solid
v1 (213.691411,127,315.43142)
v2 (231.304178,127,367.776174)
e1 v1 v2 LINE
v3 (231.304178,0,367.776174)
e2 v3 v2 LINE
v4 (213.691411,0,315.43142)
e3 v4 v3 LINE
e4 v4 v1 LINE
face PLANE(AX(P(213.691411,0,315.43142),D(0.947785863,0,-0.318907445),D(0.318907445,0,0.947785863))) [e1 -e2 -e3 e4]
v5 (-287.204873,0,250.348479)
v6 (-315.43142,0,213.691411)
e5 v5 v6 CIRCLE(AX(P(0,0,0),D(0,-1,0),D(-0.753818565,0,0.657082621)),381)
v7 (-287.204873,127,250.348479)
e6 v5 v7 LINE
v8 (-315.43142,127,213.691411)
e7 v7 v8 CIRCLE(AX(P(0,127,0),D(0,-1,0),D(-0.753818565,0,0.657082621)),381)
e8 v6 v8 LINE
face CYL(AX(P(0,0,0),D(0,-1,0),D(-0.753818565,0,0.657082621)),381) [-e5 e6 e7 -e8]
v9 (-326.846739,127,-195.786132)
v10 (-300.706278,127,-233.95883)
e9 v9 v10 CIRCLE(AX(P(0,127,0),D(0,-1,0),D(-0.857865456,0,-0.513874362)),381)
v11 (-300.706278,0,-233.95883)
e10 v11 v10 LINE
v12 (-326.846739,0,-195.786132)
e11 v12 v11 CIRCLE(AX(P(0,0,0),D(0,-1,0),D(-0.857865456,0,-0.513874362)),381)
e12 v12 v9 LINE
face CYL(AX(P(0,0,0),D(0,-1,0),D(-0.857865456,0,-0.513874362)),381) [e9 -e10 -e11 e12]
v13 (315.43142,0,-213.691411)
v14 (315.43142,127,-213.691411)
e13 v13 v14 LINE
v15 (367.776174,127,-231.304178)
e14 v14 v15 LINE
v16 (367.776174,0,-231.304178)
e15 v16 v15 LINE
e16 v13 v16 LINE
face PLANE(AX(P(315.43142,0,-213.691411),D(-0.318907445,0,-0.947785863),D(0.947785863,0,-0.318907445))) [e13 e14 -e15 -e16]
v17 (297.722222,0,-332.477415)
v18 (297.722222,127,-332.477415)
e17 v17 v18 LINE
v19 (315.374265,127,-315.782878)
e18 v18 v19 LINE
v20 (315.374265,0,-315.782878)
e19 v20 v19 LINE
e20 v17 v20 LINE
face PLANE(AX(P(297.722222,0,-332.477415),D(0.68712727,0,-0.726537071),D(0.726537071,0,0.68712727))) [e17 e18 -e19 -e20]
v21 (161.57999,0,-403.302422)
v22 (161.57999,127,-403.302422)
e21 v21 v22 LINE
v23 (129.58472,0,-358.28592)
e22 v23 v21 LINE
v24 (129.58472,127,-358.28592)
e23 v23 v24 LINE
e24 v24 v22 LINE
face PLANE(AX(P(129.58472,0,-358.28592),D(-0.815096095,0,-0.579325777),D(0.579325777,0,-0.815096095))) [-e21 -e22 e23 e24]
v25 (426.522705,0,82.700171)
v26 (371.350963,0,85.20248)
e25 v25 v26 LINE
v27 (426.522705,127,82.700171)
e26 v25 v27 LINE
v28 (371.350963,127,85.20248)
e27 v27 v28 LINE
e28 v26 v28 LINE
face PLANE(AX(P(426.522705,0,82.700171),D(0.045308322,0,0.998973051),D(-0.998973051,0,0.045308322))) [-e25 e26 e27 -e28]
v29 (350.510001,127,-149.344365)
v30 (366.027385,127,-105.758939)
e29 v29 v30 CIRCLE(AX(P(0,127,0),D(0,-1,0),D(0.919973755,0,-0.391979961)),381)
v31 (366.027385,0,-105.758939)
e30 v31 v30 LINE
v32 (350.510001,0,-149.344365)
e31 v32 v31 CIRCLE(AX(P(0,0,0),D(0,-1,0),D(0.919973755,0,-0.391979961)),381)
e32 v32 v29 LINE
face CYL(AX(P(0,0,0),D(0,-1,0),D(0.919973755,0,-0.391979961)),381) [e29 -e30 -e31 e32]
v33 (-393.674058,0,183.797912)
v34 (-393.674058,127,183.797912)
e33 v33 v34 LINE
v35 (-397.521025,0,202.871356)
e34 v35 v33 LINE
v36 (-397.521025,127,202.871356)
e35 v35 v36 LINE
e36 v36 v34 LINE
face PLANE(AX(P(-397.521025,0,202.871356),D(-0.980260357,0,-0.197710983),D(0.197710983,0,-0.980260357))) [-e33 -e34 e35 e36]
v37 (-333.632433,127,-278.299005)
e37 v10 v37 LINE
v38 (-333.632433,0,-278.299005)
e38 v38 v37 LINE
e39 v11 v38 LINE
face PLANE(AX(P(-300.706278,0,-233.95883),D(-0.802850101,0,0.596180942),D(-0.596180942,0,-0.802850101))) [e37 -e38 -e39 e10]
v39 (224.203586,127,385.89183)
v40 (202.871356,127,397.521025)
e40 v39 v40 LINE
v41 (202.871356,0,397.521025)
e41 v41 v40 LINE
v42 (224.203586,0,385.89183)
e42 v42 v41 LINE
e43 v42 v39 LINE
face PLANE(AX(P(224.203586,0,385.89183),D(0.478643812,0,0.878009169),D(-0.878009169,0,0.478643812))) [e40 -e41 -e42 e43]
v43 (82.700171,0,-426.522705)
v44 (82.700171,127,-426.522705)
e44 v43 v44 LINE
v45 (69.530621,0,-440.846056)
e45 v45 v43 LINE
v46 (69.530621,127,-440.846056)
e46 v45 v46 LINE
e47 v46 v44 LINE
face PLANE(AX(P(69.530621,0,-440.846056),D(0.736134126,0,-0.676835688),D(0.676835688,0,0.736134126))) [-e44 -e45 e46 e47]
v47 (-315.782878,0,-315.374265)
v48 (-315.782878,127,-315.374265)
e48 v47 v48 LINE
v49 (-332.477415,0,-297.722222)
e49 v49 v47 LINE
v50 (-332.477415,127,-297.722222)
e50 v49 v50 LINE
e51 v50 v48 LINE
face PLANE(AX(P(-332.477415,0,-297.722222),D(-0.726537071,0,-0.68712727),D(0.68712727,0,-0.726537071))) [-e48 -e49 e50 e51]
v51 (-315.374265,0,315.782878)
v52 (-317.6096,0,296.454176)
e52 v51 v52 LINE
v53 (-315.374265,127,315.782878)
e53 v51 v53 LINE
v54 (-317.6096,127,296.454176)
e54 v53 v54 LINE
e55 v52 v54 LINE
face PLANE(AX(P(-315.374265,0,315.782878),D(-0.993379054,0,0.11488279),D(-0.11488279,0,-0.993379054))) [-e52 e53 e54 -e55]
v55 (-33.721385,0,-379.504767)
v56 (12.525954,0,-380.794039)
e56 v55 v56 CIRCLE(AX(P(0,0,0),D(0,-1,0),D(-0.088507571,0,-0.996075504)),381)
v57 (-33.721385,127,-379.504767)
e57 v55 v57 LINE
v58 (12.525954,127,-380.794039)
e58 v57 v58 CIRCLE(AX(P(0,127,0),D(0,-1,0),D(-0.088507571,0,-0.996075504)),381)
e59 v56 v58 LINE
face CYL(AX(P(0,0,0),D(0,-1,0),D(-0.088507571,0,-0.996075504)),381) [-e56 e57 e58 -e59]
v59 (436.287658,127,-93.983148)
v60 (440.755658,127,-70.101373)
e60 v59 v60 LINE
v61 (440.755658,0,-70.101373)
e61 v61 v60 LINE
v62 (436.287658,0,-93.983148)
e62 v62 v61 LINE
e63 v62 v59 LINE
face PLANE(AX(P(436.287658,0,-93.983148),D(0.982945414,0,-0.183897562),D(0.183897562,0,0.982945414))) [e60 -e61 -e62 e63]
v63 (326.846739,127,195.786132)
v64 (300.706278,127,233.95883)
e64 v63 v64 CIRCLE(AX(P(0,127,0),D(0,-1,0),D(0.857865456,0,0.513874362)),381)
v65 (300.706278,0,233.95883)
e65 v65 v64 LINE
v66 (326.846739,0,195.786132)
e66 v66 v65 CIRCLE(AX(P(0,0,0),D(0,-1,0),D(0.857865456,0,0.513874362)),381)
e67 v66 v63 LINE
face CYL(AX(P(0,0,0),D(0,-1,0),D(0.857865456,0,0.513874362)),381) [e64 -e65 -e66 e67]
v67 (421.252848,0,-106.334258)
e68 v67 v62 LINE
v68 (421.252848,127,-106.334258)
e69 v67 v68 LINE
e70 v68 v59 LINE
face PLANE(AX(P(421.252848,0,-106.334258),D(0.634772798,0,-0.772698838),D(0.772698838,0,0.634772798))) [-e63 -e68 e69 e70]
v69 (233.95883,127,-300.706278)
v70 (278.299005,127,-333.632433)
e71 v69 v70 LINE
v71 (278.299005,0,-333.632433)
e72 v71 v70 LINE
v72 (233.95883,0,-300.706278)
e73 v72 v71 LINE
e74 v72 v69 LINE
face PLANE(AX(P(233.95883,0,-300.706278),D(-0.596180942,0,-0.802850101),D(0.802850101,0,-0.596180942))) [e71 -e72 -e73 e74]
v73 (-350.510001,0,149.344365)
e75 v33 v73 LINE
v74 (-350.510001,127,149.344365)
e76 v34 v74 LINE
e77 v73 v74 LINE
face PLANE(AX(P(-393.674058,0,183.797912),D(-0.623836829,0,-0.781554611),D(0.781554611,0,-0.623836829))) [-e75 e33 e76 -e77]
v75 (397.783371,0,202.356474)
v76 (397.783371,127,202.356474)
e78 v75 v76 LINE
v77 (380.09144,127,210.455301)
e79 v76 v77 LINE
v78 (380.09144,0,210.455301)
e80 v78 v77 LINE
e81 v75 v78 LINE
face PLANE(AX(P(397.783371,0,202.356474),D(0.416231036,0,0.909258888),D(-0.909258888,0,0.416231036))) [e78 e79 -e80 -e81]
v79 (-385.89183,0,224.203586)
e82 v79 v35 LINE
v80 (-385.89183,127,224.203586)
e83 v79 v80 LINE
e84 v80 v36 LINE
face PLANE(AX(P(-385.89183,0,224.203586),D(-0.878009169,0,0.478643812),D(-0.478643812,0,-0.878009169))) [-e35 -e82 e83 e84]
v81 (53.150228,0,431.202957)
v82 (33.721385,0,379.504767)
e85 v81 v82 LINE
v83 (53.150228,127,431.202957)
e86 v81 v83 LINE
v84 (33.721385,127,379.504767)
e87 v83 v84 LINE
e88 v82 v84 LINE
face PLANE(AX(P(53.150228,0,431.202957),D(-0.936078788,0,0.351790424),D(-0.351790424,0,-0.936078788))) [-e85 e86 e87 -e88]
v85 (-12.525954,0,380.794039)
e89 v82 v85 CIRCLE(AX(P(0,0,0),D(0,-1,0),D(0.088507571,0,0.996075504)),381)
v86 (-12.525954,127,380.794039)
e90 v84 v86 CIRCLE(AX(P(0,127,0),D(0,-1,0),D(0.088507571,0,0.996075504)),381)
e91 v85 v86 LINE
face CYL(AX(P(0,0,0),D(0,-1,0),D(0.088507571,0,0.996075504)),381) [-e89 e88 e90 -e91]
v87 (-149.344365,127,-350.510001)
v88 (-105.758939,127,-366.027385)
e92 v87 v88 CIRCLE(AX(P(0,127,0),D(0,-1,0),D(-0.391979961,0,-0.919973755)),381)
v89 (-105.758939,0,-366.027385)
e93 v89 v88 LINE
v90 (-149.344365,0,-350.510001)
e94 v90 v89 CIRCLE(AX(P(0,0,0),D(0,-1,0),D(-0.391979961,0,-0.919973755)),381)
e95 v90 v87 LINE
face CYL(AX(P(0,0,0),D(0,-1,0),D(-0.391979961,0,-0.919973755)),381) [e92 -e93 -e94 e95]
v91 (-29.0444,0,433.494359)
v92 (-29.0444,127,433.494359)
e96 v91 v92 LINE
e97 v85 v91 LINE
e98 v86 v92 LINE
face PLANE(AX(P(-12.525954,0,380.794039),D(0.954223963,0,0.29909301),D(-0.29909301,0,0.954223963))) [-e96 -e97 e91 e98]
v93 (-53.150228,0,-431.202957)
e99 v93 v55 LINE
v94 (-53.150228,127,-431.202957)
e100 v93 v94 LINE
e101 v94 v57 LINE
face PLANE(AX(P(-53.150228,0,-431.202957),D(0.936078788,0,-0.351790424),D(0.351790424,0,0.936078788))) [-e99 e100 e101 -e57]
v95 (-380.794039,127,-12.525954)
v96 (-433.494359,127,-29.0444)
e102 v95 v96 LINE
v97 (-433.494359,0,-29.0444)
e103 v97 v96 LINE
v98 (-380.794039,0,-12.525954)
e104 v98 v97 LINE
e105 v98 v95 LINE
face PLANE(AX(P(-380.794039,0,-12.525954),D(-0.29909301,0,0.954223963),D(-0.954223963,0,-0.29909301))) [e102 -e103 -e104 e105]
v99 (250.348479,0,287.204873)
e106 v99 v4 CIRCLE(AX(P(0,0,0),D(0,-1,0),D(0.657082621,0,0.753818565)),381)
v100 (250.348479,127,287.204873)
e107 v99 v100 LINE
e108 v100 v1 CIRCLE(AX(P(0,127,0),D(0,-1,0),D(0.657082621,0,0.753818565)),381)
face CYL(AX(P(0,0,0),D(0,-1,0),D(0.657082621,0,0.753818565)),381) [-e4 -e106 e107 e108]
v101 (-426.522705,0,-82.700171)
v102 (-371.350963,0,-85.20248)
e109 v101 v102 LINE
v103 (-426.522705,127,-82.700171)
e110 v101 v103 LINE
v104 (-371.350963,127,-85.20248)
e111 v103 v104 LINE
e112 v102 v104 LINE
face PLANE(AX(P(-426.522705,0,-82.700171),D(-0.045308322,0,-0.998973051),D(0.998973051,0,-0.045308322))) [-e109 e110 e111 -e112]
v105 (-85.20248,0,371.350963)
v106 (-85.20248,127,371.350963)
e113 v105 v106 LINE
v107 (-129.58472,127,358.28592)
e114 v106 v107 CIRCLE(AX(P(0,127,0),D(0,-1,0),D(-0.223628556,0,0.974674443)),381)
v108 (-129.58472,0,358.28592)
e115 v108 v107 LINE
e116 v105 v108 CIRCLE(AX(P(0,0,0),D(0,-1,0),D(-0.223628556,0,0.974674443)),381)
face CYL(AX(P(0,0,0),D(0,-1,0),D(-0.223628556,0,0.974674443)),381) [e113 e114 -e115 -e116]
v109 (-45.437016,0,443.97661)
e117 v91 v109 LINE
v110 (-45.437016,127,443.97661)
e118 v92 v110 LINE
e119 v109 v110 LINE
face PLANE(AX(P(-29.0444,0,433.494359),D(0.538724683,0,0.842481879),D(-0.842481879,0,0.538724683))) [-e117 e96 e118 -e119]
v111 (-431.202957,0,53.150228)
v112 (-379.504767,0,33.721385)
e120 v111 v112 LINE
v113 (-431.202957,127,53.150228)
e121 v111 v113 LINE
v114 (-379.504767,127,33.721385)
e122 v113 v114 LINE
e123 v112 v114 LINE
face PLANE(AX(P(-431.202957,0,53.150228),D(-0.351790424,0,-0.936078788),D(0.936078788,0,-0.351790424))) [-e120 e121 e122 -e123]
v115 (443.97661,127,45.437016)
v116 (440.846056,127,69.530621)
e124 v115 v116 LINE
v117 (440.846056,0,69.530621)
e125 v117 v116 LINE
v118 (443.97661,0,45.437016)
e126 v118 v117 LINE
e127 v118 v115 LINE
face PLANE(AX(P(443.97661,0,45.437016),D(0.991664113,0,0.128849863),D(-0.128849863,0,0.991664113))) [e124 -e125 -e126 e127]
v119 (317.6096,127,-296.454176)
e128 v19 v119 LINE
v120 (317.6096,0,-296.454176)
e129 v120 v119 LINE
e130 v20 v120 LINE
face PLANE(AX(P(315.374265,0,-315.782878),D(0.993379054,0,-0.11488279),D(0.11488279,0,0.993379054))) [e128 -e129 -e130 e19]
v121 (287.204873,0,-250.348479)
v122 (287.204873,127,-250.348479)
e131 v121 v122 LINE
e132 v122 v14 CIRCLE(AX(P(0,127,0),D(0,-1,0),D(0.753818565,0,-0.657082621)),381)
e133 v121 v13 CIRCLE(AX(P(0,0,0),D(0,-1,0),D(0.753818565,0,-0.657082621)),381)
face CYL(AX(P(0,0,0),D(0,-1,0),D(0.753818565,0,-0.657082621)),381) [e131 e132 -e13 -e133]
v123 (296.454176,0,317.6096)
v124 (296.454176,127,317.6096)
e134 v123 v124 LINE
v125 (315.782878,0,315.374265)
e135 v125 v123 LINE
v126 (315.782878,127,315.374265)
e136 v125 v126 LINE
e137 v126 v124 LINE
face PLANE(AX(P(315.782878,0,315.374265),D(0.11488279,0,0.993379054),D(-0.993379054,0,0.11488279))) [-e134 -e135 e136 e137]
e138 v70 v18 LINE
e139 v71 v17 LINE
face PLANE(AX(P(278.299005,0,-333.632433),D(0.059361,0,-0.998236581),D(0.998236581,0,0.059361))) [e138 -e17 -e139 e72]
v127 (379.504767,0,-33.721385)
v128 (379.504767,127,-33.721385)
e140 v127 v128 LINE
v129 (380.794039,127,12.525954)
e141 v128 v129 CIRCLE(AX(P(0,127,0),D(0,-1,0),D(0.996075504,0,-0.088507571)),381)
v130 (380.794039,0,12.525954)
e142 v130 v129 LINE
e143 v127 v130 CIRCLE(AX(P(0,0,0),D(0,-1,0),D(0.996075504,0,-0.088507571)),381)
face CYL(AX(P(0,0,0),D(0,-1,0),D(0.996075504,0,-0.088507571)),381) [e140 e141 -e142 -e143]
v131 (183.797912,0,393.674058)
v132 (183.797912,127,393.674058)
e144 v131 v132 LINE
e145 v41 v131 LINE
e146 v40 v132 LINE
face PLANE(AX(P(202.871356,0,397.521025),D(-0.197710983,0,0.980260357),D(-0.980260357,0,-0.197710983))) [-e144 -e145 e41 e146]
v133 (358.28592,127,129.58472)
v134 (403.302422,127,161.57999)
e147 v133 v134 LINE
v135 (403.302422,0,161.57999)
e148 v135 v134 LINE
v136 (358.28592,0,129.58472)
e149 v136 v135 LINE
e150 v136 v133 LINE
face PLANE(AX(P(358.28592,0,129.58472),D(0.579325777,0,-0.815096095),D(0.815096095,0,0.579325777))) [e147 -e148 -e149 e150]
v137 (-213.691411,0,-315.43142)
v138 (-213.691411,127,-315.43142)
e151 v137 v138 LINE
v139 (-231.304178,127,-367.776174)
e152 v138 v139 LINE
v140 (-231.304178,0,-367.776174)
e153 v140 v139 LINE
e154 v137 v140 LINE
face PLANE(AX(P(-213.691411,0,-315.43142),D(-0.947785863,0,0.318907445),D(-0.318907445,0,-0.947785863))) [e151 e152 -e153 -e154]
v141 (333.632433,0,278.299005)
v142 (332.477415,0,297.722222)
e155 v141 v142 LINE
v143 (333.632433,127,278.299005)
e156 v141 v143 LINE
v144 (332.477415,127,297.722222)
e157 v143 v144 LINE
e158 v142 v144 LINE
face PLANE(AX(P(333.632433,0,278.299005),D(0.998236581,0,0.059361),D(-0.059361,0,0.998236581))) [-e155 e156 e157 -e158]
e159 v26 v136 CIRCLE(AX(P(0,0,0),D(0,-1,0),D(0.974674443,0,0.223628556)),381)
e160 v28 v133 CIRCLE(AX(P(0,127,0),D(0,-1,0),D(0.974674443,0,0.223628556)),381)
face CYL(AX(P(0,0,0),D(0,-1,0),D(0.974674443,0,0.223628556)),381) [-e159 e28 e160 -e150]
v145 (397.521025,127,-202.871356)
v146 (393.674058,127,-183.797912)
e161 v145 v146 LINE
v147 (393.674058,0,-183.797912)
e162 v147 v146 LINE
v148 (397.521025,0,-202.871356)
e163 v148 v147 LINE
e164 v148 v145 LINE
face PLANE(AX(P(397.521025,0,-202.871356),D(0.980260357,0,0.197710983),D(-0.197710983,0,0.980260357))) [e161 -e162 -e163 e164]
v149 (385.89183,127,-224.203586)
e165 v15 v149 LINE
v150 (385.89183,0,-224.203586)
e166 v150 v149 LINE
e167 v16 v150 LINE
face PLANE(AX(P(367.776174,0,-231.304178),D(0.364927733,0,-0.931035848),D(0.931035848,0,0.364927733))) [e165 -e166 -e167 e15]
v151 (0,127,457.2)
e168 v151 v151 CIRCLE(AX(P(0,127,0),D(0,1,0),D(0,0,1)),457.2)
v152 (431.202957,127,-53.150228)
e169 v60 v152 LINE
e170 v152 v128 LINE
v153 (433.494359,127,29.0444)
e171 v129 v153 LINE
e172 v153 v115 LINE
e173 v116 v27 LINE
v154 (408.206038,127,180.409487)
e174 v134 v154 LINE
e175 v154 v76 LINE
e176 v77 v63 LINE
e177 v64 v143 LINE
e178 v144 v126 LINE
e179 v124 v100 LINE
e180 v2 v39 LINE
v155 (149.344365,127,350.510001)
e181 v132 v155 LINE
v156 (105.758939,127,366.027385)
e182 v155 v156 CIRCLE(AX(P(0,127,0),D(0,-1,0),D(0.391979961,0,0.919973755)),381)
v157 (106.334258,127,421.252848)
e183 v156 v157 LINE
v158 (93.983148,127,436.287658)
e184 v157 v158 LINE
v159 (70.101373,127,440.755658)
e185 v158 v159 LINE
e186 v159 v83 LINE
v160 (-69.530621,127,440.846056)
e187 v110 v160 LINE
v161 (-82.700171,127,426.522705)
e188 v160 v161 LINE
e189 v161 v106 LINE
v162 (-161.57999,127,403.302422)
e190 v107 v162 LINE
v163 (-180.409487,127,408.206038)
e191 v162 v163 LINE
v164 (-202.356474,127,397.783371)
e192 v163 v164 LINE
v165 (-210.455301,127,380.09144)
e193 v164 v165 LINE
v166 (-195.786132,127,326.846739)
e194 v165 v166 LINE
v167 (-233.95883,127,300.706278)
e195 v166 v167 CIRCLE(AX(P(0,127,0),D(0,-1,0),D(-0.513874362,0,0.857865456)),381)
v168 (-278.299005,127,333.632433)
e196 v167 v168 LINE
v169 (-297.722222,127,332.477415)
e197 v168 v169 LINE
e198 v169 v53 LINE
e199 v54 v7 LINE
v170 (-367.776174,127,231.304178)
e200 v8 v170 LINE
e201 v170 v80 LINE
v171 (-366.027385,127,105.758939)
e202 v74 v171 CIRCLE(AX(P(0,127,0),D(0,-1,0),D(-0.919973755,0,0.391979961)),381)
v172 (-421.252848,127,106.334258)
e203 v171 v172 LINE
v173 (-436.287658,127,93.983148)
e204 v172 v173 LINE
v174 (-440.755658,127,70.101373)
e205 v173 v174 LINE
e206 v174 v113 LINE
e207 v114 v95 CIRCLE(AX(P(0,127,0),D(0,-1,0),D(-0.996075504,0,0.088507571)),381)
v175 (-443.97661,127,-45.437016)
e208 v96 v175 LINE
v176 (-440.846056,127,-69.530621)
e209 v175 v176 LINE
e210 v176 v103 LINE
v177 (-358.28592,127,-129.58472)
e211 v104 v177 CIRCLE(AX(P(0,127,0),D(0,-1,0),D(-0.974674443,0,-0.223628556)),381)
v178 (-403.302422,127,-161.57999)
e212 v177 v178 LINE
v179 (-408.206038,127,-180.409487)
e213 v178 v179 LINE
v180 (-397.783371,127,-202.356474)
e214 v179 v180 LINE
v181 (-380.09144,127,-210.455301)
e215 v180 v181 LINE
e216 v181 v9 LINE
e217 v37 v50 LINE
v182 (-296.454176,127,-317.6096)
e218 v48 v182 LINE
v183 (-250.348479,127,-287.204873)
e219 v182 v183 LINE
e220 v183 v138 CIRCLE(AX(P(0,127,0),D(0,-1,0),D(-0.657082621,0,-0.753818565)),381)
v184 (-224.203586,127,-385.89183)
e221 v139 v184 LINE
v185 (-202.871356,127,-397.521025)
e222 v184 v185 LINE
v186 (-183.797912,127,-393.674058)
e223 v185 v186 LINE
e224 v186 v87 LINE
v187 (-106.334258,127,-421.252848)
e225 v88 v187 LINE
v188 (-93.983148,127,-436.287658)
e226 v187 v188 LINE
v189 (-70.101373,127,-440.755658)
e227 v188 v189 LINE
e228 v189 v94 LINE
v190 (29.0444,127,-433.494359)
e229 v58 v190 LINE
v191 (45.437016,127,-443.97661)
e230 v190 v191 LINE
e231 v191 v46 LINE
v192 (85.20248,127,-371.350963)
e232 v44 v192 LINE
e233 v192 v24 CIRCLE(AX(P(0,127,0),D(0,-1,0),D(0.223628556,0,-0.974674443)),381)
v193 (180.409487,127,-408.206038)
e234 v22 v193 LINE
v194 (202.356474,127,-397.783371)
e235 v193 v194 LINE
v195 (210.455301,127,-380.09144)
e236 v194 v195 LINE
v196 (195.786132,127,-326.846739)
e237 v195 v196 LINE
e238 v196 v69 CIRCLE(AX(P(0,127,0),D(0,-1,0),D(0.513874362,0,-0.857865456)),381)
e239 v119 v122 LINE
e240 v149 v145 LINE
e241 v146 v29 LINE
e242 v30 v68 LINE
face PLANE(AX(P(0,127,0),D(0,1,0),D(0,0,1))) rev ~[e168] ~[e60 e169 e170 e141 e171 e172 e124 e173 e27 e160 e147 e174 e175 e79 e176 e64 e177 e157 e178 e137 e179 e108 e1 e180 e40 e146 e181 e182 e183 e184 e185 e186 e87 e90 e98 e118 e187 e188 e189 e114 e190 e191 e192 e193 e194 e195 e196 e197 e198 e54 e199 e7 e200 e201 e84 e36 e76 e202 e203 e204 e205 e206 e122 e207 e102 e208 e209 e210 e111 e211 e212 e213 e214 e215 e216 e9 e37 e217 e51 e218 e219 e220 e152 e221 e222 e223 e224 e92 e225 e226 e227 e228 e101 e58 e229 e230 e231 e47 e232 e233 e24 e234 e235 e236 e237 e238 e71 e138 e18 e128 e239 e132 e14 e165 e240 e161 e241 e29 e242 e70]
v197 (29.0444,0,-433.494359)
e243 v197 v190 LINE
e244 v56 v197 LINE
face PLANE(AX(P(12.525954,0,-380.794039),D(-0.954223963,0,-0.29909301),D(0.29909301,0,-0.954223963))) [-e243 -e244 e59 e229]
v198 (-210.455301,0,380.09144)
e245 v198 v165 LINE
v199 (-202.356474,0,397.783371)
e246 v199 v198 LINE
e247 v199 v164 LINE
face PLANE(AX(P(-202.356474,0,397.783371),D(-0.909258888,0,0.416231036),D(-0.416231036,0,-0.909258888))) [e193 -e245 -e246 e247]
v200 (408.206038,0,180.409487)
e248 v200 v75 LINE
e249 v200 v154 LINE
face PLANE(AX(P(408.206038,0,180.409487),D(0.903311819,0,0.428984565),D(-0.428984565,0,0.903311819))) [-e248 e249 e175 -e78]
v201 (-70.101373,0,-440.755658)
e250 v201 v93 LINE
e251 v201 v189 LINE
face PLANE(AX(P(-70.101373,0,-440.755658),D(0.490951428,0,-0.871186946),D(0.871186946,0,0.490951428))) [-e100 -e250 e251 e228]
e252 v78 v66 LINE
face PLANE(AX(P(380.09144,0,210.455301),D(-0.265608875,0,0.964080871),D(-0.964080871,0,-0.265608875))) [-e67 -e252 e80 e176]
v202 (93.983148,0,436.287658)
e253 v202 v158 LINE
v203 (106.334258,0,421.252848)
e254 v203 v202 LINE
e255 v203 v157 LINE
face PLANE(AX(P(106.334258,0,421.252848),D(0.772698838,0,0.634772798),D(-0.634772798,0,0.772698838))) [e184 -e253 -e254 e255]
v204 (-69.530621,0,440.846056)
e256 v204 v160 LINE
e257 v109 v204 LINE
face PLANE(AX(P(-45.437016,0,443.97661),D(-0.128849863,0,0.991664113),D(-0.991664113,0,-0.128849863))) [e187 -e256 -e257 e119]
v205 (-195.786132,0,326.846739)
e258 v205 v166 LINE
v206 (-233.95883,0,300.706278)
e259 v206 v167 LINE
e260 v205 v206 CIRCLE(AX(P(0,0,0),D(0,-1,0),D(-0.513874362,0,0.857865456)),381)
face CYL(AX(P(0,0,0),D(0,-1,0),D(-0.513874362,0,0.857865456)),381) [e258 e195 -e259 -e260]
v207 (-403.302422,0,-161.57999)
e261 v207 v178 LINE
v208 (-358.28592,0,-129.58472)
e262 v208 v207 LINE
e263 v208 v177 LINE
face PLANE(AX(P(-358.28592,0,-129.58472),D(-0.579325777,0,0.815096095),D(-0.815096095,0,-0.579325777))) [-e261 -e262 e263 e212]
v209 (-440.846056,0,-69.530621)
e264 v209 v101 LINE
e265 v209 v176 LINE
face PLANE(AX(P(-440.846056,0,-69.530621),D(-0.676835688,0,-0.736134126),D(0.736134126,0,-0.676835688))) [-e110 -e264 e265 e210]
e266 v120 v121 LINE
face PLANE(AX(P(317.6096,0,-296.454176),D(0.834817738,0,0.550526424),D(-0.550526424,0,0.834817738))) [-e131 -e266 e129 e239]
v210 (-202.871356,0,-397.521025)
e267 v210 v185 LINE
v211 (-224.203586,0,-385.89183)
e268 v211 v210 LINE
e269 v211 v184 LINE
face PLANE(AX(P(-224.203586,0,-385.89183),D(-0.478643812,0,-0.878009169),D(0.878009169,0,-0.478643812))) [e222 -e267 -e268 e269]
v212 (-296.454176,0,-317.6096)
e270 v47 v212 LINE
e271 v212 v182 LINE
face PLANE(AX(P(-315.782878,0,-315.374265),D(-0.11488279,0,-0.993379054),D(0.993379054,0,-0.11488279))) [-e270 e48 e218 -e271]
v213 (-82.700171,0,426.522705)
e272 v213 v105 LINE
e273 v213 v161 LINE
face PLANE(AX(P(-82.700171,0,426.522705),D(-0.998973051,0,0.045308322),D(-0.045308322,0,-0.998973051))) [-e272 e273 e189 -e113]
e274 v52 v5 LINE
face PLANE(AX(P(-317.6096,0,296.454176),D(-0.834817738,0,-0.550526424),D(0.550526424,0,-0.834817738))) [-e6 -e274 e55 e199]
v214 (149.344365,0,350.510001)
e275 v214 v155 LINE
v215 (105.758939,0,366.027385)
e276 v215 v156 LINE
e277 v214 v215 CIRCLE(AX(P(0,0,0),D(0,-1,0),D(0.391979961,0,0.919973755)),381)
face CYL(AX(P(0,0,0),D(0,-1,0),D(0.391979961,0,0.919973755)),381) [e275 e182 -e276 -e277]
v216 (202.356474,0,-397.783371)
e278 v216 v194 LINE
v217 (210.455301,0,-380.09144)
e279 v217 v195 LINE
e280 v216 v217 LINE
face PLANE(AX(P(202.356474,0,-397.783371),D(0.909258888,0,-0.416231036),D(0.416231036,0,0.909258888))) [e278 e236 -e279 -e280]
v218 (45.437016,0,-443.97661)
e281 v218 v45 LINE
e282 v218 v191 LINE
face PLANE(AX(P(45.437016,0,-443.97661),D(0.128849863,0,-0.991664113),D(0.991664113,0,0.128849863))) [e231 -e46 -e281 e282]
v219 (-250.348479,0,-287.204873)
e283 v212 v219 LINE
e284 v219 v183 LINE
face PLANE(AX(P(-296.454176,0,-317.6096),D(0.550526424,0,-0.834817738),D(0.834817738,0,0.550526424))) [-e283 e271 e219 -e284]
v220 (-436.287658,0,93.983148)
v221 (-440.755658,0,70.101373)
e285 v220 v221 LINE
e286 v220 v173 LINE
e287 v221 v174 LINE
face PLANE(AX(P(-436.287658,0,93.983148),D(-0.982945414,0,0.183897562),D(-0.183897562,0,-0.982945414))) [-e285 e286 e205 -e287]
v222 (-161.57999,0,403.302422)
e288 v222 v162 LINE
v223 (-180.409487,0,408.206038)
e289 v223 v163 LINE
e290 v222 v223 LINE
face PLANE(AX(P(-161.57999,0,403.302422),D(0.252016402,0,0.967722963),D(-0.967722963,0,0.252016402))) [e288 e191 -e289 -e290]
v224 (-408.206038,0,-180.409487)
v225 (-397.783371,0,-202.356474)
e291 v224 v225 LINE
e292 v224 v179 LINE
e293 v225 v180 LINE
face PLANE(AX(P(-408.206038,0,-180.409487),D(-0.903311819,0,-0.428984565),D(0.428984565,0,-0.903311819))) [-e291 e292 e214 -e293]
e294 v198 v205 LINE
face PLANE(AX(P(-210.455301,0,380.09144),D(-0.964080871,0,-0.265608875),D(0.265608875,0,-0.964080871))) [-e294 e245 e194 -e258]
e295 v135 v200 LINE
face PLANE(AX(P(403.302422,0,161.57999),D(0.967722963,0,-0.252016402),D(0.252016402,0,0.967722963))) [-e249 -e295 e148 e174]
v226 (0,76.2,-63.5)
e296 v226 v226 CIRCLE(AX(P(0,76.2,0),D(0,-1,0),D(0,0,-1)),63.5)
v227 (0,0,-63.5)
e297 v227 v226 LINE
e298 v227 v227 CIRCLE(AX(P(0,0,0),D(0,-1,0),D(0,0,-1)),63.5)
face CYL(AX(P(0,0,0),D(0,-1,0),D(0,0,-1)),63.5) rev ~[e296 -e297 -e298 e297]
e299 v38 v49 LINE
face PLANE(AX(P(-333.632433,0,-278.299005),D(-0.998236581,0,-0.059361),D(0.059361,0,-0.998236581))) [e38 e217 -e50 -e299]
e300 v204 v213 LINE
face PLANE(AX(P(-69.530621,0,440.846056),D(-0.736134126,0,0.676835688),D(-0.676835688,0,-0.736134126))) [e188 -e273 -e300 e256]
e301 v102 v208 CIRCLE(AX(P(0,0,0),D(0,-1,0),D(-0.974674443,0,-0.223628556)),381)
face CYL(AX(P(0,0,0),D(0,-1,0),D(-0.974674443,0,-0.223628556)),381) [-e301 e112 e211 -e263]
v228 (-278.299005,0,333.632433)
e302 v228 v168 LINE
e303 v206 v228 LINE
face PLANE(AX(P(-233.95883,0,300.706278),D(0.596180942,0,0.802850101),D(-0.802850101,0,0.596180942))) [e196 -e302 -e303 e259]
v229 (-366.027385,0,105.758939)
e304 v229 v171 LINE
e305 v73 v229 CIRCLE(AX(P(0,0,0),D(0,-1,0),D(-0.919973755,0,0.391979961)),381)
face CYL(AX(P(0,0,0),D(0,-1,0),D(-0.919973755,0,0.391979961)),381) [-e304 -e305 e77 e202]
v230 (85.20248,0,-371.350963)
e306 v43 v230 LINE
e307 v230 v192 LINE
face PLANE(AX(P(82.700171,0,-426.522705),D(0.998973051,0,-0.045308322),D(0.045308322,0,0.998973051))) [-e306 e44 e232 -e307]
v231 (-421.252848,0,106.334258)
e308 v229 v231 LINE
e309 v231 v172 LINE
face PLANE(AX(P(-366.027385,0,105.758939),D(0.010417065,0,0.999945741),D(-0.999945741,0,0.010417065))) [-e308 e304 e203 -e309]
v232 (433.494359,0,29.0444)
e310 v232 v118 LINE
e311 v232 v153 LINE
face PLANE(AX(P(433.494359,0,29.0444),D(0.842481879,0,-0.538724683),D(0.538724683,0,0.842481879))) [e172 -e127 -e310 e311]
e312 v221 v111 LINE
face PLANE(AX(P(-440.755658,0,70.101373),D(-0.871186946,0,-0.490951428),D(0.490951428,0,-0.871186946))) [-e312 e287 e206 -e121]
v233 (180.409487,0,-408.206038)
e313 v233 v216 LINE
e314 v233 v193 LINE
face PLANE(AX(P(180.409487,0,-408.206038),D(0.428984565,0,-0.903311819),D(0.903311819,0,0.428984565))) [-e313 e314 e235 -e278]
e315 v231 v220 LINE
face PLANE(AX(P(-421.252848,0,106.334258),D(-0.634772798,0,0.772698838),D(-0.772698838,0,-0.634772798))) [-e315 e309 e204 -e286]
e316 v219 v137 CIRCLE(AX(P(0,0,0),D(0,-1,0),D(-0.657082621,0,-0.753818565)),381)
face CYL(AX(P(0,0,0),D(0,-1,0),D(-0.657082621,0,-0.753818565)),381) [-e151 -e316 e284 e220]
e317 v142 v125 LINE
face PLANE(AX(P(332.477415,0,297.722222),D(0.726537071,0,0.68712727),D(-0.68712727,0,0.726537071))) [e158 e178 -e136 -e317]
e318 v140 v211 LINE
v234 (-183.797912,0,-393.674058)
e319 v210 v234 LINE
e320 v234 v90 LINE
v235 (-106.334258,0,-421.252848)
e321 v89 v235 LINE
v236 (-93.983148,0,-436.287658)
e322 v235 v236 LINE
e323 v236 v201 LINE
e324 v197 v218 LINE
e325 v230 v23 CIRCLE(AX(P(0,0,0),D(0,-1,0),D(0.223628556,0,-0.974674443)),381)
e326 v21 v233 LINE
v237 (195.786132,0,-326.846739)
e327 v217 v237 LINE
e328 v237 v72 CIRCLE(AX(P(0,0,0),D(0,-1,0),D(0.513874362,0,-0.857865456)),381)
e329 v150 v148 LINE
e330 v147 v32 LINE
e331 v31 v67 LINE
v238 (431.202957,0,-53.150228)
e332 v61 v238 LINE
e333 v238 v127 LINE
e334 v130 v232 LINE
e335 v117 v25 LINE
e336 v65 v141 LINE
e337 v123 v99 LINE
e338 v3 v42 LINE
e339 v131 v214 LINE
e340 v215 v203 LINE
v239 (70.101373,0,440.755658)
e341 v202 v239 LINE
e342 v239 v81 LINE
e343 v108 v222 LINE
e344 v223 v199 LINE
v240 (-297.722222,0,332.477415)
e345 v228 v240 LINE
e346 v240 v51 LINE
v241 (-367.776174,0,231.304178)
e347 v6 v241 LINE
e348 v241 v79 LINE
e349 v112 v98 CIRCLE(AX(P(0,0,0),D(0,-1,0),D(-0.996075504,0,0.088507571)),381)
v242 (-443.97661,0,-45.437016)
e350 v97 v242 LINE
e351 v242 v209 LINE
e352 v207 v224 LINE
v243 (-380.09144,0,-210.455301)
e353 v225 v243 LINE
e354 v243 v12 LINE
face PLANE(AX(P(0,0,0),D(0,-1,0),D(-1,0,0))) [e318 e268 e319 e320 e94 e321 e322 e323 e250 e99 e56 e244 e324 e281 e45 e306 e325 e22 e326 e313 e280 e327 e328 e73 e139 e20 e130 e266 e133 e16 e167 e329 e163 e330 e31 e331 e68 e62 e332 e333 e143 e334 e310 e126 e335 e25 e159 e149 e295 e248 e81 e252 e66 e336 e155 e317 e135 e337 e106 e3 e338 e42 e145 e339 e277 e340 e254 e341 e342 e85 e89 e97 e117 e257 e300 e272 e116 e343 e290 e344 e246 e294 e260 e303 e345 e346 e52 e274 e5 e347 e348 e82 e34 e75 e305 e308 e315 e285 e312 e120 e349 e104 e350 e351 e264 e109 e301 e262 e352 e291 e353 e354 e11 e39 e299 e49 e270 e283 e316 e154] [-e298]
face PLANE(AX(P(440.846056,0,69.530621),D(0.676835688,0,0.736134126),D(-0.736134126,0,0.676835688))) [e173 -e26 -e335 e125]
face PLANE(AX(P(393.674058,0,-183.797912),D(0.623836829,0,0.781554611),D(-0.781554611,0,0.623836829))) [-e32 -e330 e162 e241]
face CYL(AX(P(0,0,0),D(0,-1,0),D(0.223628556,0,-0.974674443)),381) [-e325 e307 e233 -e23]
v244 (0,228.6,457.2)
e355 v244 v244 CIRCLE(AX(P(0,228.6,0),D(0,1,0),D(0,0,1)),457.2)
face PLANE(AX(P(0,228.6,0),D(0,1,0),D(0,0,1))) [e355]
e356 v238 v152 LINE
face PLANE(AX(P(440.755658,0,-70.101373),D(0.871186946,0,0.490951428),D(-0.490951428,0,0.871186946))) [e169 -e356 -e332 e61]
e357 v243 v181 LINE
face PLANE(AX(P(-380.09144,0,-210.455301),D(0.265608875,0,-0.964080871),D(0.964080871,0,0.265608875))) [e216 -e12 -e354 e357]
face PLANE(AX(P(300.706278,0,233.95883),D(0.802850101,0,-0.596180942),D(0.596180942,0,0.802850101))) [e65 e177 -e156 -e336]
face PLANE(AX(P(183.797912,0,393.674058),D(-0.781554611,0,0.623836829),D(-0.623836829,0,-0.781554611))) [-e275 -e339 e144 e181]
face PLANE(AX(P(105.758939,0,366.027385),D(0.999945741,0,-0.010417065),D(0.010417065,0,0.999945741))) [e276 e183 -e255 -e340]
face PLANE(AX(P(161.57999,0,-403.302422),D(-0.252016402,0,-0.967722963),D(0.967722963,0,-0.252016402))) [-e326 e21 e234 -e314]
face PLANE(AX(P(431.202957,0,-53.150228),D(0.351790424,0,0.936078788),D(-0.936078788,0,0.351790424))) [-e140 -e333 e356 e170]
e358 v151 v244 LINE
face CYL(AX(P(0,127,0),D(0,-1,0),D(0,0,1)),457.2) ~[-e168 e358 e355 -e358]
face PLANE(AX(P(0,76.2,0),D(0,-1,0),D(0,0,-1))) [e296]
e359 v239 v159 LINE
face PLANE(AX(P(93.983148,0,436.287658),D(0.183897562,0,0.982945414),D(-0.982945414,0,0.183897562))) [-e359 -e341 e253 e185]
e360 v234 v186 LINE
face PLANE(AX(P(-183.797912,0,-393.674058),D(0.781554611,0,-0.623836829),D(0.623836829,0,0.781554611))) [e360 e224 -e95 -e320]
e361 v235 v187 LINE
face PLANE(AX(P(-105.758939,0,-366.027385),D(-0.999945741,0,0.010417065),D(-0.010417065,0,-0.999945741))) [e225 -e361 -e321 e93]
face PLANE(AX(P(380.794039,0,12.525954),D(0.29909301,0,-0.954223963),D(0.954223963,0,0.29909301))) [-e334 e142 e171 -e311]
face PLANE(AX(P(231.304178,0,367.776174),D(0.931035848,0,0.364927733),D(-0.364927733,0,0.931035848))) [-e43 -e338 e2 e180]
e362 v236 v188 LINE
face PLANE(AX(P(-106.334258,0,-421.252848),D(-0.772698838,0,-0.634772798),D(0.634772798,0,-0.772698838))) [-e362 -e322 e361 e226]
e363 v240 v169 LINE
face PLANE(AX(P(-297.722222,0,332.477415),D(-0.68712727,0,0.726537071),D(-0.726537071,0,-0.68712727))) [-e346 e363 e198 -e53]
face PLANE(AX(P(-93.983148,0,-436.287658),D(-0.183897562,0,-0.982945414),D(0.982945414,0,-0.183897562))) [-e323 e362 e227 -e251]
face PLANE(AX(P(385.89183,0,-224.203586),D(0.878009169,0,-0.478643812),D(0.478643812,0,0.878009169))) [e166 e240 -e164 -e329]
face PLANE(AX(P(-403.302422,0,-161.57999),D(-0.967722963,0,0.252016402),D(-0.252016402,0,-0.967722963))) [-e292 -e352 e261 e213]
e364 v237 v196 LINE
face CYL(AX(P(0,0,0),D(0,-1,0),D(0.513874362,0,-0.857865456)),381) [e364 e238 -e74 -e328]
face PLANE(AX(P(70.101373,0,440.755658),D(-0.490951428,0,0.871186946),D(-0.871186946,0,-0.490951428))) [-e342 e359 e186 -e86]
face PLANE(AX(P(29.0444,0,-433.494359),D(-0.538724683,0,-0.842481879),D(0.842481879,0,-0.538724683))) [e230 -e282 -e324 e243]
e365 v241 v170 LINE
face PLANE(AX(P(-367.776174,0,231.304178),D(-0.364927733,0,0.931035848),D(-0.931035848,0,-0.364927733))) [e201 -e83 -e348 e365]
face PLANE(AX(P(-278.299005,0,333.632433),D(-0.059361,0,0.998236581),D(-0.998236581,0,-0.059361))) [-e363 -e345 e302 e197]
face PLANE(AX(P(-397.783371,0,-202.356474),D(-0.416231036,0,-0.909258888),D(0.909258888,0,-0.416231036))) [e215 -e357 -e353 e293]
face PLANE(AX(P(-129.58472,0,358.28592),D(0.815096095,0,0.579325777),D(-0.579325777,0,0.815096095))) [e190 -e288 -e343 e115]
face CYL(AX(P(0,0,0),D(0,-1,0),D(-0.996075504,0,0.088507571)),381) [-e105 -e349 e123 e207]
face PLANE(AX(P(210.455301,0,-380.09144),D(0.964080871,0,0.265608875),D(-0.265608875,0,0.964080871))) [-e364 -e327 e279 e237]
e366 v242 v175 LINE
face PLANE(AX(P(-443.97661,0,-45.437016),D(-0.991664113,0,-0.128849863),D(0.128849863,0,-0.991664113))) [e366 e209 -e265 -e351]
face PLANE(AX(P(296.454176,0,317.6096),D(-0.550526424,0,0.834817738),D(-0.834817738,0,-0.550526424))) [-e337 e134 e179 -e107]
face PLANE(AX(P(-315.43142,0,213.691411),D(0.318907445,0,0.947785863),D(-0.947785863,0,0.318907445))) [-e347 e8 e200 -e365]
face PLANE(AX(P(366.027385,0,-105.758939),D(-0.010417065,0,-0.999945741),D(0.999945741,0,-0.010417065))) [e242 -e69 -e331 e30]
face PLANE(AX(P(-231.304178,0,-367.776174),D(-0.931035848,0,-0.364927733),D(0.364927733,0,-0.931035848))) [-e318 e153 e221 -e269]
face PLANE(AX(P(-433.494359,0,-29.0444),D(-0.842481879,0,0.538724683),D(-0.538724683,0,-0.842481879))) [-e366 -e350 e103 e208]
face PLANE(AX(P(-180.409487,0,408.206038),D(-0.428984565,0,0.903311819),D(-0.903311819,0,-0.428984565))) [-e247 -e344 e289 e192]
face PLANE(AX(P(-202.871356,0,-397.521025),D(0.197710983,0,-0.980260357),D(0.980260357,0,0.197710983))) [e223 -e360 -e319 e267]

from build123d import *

# Parameters (mm, degrees)
BOSS_EXTRUDE2_DEPTH = 127
SKETCH3_R           = 457.2
BOSS_EXTRUDE3_DEPTH = 101.6
SKETCH4_R           = 63.5
CUT_EXTRUDE1_DEPTH  = 76.2


with BuildPart() as part:
    # Sketch1 → Boss-Extrude2 (new body)
    with BuildSketch(Plane(origin=(0, 0, 0), x_dir=(1, 0, 0), z_dir=(0, 1, 0))):
        with BuildLine():
            Line((-358.285919954, 129.584719634), (-403.302421761, 161.579989966))
            Line((-403.302421761, 161.579989966), (-408.206038182, 180.409487441))
            Line((-408.206038182, 180.409487441), (-397.783371142, 202.356473607))
            Line((-397.783371142, 202.356473607), (-380.091440099, 210.455301))
            Line((-380.091440099, 210.455301), (-326.846738593, 195.786131968))
            ThreePointArc((-326.846738593, 195.786131968), (-314.356463225, 215.269630995), (-300.706278291, 233.958830131))
            Line((-300.706278291, 233.958830131), (-333.632433402, 278.299004557))
            Line((-333.632433402, 278.299004557), (-332.477415039, 297.722221637))
            Line((-332.477415039, 297.722221637), (-315.782877932, 315.374264601))
            Line((-315.782877932, 315.374264601), (-296.454176329, 317.609599812))
            Line((-296.454176329, 317.609599812), (-250.348478528, 287.20487339))
            ThreePointArc((-250.348478528, 287.20487339), (-232.44878844, 301.875074746), (-213.691410965, 315.431420248))
            Line((-213.691410965, 315.431420248), (-231.304177909, 367.776173558))
            Line((-231.304177909, 367.776173558), (-224.203586005, 385.891830426))
            Line((-224.203586005, 385.891830426), (-202.871356441, 397.521025234))
            Line((-202.871356441, 397.521025234), (-183.797912262, 393.674058078))
            Line((-183.797912262, 393.674058078), (-149.344365104, 350.51000073))
            ThreePointArc((-149.344365104, 350.51000073), (-127.787406676, 358.930882894), (-105.758939458, 366.027385211))
            Line((-105.758939458, 366.027385211), (-106.334257891, 421.252848245))
            Line((-106.334257891, 421.252848245), (-93.983147854, 436.287658187))
            Line((-93.983147854, 436.287658187), (-70.101373095, 440.755658225))
            Line((-70.101373095, 440.755658225), (-53.150227948, 431.202956651))
            Line((-53.150227948, 431.202956651), (-33.72138468, 379.504767052))
            ThreePointArc((-33.72138468, 379.504767052), (-10.617303199, 380.852035406), (12.525953909, 380.794039447))
            Line((12.525953909, 380.794039447), (29.044400164, 433.494359103))
            Line((29.044400164, 433.494359103), (45.437015627, 443.97661017))
            Line((45.437015627, 443.97661017), (69.530621076, 440.846056464))
            Line((69.530621076, 440.846056464), (82.700170997, 426.522705459))
            Line((82.700170997, 426.522705459), (85.202479827, 371.35096261))
            ThreePointArc((85.202479827, 371.35096261), (107.59209589, 365.49273714), (129.584719634, 358.285919954))
            Line((129.584719634, 358.285919954), (161.579989966, 403.302421761))
            Line((161.579989966, 403.302421761), (180.409487441, 408.206038182))
            Line((180.409487441, 408.206038182), (202.356473607, 397.783371142))
            Line((202.356473607, 397.783371142), (210.455301, 380.091440099))
            Line((210.455301, 380.091440099), (195.786131968, 326.846738593))
            ThreePointArc((195.786131968, 326.846738593), (215.269630995, 314.356463225), (233.958830131, 300.706278291))
            Line((233.958830131, 300.706278291), (278.299004557, 333.632433402))
            Line((278.299004557, 333.632433402), (297.722221637, 332.477415039))
            Line((297.722221637, 332.477415039), (315.374264601, 315.782877932))
            Line((315.374264601, 315.782877932), (317.609599812, 296.454176329))
            Line((317.609599812, 296.454176329), (287.20487339, 250.348478528))
            ThreePointArc((287.20487339, 250.348478528), (301.875074746, 232.44878844), (315.431420248, 213.691410965))
            Line((315.431420248, 213.691410965), (367.776173558, 231.304177909))
            Line((367.776173558, 231.304177909), (385.891830426, 224.203586005))
            Line((385.891830426, 224.203586005), (397.521025234, 202.871356441))
            Line((397.521025234, 202.871356441), (393.674058078, 183.797912262))
            Line((393.674058078, 183.797912262), (350.51000073, 149.344365104))
            ThreePointArc((350.51000073, 149.344365104), (358.930882894, 127.787406676), (366.027385211, 105.758939458))
            Line((366.027385211, 105.758939458), (421.252848245, 106.334257891))
            Line((421.252848245, 106.334257891), (436.287658187, 93.983147854))
            Line((436.287658187, 93.983147854), (440.755658225, 70.101373095))
            Line((440.755658225, 70.101373095), (431.202956651, 53.150227948))
            Line((431.202956651, 53.150227948), (379.504767052, 33.72138468))
            ThreePointArc((379.504767052, 33.72138468), (380.852035406, 10.617303199), (380.794039447, -12.525953909))
            Line((380.794039447, -12.525953909), (433.494359103, -29.044400164))
            Line((433.494359103, -29.044400164), (443.97661017, -45.437015627))
            Line((443.97661017, -45.437015627), (440.846056464, -69.530621076))
            Line((440.846056464, -69.530621076), (426.522705459, -82.700170997))
            Line((426.522705459, -82.700170997), (371.35096261, -85.202479827))
            ThreePointArc((371.35096261, -85.202479827), (365.49273714, -107.59209589), (358.285919954, -129.584719634))
            Line((358.285919954, -129.584719634), (403.302421761, -161.579989966))
            Line((403.302421761, -161.579989966), (408.206038182, -180.409487441))
            Line((408.206038182, -180.409487441), (397.783371142, -202.356473607))
            Line((397.783371142, -202.356473607), (380.091440099, -210.455301))
            Line((380.091440099, -210.455301), (326.846738593, -195.786131968))
            ThreePointArc((326.846738593, -195.786131968), (314.356463225, -215.269630995), (300.706278291, -233.958830131))
            Line((300.706278291, -233.958830131), (333.632433402, -278.299004557))
            Line((333.632433402, -278.299004557), (332.477415039, -297.722221637))
            Line((332.477415039, -297.722221637), (315.782877932, -315.374264601))
            Line((315.782877932, -315.374264601), (296.454176329, -317.609599812))
            Line((296.454176329, -317.609599812), (250.348478528, -287.20487339))
            ThreePointArc((250.348478528, -287.20487339), (232.44878844, -301.875074746), (213.691410965, -315.431420248))
            Line((213.691410965, -315.431420248), (231.304177909, -367.776173558))
            Line((231.304177909, -367.776173558), (224.203586005, -385.891830426))
            Line((224.203586005, -385.891830426), (202.871356441, -397.521025234))
            Line((202.871356441, -397.521025234), (183.797912262, -393.674058078))
            Line((183.797912262, -393.674058078), (149.344365104, -350.51000073))
            ThreePointArc((149.344365104, -350.51000073), (127.787406676, -358.930882894), (105.758939458, -366.027385211))
            Line((105.758939458, -366.027385211), (106.334257891, -421.252848245))
            Line((106.334257891, -421.252848245), (93.983147854, -436.287658187))
            Line((93.983147854, -436.287658187), (70.101373095, -440.755658225))
            Line((70.101373095, -440.755658225), (53.150227948, -431.202956651))
            Line((53.150227948, -431.202956651), (33.72138468, -379.504767052))
            ThreePointArc((33.72138468, -379.504767052), (10.617303199, -380.852035406), (-12.525953909, -380.794039447))
            Line((-12.525953909, -380.794039447), (-29.044400164, -433.494359103))
            Line((-29.044400164, -433.494359103), (-45.437015627, -443.97661017))
            Line((-45.437015627, -443.97661017), (-69.530621076, -440.846056464))
            Line((-69.530621076, -440.846056464), (-82.700170997, -426.522705459))
            Line((-82.700170997, -426.522705459), (-85.202479827, -371.35096261))
            ThreePointArc((-85.202479827, -371.35096261), (-107.59209589, -365.49273714), (-129.584719634, -358.285919954))
            Line((-129.584719634, -358.285919954), (-161.579989966, -403.302421761))
            Line((-161.579989966, -403.302421761), (-180.409487441, -408.206038182))
            Line((-180.409487441, -408.206038182), (-202.356473607, -397.783371142))
            Line((-202.356473607, -397.783371142), (-210.455301, -380.091440099))
            Line((-210.455301, -380.091440099), (-195.786131968, -326.846738593))
            ThreePointArc((-195.786131968, -326.846738593), (-215.269630995, -314.356463225), (-233.958830131, -300.706278291))
            Line((-233.958830131, -300.706278291), (-278.299004557, -333.632433402))
            Line((-278.299004557, -333.632433402), (-297.722221637, -332.477415039))
            Line((-297.722221637, -332.477415039), (-315.374264601, -315.782877932))
            Line((-315.374264601, -315.782877932), (-317.609599812, -296.454176329))
            Line((-317.609599812, -296.454176329), (-287.20487339, -250.348478528))
            ThreePointArc((-287.20487339, -250.348478528), (-301.875074746, -232.44878844), (-315.431420248, -213.691410965))
            Line((-315.431420248, -213.691410965), (-367.776173558, -231.304177909))
            Line((-367.776173558, -231.304177909), (-385.891830426, -224.203586005))
            Line((-385.891830426, -224.203586005), (-397.521025234, -202.871356441))
            Line((-397.521025234, -202.871356441), (-393.674058078, -183.797912262))
            Line((-393.674058078, -183.797912262), (-350.51000073, -149.344365104))
            ThreePointArc((-350.51000073, -149.344365104), (-358.930882894, -127.787406676), (-366.027385211, -105.758939458))
            Line((-366.027385211, -105.758939458), (-421.252848245, -106.334257891))
            Line((-421.252848245, -106.334257891), (-436.287658187, -93.983147854))
            Line((-436.287658187, -93.983147854), (-440.755658225, -70.101373095))
            Line((-440.755658225, -70.101373095), (-431.202956651, -53.150227948))
            Line((-431.202956651, -53.150227948), (-379.504767052, -33.72138468))
            ThreePointArc((-379.504767052, -33.72138468), (-380.852035406, -10.617303199), (-380.794039447, 12.525953909))
            Line((-380.794039447, 12.525953909), (-433.494359103, 29.044400164))
            Line((-433.494359103, 29.044400164), (-443.97661017, 45.437015627))
            Line((-443.97661017, 45.437015627), (-440.846056464, 69.530621076))
            Line((-440.846056464, 69.530621076), (-426.522705459, 82.700170997))
            Line((-426.522705459, 82.700170997), (-371.35096261, 85.202479827))
            ThreePointArc((-371.35096261, 85.202479827), (-365.49273714, 107.59209589), (-358.285919954, 129.584719634))
        make_face()
    extrude(amount=BOSS_EXTRUDE2_DEPTH)

    # Sketch3 → Boss-Extrude3 (add)
    with BuildSketch(Plane(origin=(0, 127, 0), x_dir=(1, 0, 0), z_dir=(0, 1, 0))):
        with Locations(Location((0, 0, 0), (0, 0, 270))):
            Circle(SKETCH3_R)
    extrude(amount=BOSS_EXTRUDE3_DEPTH)

    # Sketch4 → Cut-Extrude1 (cut)
    with BuildSketch(Plane(origin=(0, 0, 0), x_dir=(-1, 0, 0), z_dir=(0, -1, 0))):
        with Locations(Location((0, 0, 0), (0, 0, 90))):
            Circle(SKETCH4_R)
    extrude(amount=-CUT_EXTRUDE1_DEPTH, mode=Mode.SUBTRACT)


solid = part.part
